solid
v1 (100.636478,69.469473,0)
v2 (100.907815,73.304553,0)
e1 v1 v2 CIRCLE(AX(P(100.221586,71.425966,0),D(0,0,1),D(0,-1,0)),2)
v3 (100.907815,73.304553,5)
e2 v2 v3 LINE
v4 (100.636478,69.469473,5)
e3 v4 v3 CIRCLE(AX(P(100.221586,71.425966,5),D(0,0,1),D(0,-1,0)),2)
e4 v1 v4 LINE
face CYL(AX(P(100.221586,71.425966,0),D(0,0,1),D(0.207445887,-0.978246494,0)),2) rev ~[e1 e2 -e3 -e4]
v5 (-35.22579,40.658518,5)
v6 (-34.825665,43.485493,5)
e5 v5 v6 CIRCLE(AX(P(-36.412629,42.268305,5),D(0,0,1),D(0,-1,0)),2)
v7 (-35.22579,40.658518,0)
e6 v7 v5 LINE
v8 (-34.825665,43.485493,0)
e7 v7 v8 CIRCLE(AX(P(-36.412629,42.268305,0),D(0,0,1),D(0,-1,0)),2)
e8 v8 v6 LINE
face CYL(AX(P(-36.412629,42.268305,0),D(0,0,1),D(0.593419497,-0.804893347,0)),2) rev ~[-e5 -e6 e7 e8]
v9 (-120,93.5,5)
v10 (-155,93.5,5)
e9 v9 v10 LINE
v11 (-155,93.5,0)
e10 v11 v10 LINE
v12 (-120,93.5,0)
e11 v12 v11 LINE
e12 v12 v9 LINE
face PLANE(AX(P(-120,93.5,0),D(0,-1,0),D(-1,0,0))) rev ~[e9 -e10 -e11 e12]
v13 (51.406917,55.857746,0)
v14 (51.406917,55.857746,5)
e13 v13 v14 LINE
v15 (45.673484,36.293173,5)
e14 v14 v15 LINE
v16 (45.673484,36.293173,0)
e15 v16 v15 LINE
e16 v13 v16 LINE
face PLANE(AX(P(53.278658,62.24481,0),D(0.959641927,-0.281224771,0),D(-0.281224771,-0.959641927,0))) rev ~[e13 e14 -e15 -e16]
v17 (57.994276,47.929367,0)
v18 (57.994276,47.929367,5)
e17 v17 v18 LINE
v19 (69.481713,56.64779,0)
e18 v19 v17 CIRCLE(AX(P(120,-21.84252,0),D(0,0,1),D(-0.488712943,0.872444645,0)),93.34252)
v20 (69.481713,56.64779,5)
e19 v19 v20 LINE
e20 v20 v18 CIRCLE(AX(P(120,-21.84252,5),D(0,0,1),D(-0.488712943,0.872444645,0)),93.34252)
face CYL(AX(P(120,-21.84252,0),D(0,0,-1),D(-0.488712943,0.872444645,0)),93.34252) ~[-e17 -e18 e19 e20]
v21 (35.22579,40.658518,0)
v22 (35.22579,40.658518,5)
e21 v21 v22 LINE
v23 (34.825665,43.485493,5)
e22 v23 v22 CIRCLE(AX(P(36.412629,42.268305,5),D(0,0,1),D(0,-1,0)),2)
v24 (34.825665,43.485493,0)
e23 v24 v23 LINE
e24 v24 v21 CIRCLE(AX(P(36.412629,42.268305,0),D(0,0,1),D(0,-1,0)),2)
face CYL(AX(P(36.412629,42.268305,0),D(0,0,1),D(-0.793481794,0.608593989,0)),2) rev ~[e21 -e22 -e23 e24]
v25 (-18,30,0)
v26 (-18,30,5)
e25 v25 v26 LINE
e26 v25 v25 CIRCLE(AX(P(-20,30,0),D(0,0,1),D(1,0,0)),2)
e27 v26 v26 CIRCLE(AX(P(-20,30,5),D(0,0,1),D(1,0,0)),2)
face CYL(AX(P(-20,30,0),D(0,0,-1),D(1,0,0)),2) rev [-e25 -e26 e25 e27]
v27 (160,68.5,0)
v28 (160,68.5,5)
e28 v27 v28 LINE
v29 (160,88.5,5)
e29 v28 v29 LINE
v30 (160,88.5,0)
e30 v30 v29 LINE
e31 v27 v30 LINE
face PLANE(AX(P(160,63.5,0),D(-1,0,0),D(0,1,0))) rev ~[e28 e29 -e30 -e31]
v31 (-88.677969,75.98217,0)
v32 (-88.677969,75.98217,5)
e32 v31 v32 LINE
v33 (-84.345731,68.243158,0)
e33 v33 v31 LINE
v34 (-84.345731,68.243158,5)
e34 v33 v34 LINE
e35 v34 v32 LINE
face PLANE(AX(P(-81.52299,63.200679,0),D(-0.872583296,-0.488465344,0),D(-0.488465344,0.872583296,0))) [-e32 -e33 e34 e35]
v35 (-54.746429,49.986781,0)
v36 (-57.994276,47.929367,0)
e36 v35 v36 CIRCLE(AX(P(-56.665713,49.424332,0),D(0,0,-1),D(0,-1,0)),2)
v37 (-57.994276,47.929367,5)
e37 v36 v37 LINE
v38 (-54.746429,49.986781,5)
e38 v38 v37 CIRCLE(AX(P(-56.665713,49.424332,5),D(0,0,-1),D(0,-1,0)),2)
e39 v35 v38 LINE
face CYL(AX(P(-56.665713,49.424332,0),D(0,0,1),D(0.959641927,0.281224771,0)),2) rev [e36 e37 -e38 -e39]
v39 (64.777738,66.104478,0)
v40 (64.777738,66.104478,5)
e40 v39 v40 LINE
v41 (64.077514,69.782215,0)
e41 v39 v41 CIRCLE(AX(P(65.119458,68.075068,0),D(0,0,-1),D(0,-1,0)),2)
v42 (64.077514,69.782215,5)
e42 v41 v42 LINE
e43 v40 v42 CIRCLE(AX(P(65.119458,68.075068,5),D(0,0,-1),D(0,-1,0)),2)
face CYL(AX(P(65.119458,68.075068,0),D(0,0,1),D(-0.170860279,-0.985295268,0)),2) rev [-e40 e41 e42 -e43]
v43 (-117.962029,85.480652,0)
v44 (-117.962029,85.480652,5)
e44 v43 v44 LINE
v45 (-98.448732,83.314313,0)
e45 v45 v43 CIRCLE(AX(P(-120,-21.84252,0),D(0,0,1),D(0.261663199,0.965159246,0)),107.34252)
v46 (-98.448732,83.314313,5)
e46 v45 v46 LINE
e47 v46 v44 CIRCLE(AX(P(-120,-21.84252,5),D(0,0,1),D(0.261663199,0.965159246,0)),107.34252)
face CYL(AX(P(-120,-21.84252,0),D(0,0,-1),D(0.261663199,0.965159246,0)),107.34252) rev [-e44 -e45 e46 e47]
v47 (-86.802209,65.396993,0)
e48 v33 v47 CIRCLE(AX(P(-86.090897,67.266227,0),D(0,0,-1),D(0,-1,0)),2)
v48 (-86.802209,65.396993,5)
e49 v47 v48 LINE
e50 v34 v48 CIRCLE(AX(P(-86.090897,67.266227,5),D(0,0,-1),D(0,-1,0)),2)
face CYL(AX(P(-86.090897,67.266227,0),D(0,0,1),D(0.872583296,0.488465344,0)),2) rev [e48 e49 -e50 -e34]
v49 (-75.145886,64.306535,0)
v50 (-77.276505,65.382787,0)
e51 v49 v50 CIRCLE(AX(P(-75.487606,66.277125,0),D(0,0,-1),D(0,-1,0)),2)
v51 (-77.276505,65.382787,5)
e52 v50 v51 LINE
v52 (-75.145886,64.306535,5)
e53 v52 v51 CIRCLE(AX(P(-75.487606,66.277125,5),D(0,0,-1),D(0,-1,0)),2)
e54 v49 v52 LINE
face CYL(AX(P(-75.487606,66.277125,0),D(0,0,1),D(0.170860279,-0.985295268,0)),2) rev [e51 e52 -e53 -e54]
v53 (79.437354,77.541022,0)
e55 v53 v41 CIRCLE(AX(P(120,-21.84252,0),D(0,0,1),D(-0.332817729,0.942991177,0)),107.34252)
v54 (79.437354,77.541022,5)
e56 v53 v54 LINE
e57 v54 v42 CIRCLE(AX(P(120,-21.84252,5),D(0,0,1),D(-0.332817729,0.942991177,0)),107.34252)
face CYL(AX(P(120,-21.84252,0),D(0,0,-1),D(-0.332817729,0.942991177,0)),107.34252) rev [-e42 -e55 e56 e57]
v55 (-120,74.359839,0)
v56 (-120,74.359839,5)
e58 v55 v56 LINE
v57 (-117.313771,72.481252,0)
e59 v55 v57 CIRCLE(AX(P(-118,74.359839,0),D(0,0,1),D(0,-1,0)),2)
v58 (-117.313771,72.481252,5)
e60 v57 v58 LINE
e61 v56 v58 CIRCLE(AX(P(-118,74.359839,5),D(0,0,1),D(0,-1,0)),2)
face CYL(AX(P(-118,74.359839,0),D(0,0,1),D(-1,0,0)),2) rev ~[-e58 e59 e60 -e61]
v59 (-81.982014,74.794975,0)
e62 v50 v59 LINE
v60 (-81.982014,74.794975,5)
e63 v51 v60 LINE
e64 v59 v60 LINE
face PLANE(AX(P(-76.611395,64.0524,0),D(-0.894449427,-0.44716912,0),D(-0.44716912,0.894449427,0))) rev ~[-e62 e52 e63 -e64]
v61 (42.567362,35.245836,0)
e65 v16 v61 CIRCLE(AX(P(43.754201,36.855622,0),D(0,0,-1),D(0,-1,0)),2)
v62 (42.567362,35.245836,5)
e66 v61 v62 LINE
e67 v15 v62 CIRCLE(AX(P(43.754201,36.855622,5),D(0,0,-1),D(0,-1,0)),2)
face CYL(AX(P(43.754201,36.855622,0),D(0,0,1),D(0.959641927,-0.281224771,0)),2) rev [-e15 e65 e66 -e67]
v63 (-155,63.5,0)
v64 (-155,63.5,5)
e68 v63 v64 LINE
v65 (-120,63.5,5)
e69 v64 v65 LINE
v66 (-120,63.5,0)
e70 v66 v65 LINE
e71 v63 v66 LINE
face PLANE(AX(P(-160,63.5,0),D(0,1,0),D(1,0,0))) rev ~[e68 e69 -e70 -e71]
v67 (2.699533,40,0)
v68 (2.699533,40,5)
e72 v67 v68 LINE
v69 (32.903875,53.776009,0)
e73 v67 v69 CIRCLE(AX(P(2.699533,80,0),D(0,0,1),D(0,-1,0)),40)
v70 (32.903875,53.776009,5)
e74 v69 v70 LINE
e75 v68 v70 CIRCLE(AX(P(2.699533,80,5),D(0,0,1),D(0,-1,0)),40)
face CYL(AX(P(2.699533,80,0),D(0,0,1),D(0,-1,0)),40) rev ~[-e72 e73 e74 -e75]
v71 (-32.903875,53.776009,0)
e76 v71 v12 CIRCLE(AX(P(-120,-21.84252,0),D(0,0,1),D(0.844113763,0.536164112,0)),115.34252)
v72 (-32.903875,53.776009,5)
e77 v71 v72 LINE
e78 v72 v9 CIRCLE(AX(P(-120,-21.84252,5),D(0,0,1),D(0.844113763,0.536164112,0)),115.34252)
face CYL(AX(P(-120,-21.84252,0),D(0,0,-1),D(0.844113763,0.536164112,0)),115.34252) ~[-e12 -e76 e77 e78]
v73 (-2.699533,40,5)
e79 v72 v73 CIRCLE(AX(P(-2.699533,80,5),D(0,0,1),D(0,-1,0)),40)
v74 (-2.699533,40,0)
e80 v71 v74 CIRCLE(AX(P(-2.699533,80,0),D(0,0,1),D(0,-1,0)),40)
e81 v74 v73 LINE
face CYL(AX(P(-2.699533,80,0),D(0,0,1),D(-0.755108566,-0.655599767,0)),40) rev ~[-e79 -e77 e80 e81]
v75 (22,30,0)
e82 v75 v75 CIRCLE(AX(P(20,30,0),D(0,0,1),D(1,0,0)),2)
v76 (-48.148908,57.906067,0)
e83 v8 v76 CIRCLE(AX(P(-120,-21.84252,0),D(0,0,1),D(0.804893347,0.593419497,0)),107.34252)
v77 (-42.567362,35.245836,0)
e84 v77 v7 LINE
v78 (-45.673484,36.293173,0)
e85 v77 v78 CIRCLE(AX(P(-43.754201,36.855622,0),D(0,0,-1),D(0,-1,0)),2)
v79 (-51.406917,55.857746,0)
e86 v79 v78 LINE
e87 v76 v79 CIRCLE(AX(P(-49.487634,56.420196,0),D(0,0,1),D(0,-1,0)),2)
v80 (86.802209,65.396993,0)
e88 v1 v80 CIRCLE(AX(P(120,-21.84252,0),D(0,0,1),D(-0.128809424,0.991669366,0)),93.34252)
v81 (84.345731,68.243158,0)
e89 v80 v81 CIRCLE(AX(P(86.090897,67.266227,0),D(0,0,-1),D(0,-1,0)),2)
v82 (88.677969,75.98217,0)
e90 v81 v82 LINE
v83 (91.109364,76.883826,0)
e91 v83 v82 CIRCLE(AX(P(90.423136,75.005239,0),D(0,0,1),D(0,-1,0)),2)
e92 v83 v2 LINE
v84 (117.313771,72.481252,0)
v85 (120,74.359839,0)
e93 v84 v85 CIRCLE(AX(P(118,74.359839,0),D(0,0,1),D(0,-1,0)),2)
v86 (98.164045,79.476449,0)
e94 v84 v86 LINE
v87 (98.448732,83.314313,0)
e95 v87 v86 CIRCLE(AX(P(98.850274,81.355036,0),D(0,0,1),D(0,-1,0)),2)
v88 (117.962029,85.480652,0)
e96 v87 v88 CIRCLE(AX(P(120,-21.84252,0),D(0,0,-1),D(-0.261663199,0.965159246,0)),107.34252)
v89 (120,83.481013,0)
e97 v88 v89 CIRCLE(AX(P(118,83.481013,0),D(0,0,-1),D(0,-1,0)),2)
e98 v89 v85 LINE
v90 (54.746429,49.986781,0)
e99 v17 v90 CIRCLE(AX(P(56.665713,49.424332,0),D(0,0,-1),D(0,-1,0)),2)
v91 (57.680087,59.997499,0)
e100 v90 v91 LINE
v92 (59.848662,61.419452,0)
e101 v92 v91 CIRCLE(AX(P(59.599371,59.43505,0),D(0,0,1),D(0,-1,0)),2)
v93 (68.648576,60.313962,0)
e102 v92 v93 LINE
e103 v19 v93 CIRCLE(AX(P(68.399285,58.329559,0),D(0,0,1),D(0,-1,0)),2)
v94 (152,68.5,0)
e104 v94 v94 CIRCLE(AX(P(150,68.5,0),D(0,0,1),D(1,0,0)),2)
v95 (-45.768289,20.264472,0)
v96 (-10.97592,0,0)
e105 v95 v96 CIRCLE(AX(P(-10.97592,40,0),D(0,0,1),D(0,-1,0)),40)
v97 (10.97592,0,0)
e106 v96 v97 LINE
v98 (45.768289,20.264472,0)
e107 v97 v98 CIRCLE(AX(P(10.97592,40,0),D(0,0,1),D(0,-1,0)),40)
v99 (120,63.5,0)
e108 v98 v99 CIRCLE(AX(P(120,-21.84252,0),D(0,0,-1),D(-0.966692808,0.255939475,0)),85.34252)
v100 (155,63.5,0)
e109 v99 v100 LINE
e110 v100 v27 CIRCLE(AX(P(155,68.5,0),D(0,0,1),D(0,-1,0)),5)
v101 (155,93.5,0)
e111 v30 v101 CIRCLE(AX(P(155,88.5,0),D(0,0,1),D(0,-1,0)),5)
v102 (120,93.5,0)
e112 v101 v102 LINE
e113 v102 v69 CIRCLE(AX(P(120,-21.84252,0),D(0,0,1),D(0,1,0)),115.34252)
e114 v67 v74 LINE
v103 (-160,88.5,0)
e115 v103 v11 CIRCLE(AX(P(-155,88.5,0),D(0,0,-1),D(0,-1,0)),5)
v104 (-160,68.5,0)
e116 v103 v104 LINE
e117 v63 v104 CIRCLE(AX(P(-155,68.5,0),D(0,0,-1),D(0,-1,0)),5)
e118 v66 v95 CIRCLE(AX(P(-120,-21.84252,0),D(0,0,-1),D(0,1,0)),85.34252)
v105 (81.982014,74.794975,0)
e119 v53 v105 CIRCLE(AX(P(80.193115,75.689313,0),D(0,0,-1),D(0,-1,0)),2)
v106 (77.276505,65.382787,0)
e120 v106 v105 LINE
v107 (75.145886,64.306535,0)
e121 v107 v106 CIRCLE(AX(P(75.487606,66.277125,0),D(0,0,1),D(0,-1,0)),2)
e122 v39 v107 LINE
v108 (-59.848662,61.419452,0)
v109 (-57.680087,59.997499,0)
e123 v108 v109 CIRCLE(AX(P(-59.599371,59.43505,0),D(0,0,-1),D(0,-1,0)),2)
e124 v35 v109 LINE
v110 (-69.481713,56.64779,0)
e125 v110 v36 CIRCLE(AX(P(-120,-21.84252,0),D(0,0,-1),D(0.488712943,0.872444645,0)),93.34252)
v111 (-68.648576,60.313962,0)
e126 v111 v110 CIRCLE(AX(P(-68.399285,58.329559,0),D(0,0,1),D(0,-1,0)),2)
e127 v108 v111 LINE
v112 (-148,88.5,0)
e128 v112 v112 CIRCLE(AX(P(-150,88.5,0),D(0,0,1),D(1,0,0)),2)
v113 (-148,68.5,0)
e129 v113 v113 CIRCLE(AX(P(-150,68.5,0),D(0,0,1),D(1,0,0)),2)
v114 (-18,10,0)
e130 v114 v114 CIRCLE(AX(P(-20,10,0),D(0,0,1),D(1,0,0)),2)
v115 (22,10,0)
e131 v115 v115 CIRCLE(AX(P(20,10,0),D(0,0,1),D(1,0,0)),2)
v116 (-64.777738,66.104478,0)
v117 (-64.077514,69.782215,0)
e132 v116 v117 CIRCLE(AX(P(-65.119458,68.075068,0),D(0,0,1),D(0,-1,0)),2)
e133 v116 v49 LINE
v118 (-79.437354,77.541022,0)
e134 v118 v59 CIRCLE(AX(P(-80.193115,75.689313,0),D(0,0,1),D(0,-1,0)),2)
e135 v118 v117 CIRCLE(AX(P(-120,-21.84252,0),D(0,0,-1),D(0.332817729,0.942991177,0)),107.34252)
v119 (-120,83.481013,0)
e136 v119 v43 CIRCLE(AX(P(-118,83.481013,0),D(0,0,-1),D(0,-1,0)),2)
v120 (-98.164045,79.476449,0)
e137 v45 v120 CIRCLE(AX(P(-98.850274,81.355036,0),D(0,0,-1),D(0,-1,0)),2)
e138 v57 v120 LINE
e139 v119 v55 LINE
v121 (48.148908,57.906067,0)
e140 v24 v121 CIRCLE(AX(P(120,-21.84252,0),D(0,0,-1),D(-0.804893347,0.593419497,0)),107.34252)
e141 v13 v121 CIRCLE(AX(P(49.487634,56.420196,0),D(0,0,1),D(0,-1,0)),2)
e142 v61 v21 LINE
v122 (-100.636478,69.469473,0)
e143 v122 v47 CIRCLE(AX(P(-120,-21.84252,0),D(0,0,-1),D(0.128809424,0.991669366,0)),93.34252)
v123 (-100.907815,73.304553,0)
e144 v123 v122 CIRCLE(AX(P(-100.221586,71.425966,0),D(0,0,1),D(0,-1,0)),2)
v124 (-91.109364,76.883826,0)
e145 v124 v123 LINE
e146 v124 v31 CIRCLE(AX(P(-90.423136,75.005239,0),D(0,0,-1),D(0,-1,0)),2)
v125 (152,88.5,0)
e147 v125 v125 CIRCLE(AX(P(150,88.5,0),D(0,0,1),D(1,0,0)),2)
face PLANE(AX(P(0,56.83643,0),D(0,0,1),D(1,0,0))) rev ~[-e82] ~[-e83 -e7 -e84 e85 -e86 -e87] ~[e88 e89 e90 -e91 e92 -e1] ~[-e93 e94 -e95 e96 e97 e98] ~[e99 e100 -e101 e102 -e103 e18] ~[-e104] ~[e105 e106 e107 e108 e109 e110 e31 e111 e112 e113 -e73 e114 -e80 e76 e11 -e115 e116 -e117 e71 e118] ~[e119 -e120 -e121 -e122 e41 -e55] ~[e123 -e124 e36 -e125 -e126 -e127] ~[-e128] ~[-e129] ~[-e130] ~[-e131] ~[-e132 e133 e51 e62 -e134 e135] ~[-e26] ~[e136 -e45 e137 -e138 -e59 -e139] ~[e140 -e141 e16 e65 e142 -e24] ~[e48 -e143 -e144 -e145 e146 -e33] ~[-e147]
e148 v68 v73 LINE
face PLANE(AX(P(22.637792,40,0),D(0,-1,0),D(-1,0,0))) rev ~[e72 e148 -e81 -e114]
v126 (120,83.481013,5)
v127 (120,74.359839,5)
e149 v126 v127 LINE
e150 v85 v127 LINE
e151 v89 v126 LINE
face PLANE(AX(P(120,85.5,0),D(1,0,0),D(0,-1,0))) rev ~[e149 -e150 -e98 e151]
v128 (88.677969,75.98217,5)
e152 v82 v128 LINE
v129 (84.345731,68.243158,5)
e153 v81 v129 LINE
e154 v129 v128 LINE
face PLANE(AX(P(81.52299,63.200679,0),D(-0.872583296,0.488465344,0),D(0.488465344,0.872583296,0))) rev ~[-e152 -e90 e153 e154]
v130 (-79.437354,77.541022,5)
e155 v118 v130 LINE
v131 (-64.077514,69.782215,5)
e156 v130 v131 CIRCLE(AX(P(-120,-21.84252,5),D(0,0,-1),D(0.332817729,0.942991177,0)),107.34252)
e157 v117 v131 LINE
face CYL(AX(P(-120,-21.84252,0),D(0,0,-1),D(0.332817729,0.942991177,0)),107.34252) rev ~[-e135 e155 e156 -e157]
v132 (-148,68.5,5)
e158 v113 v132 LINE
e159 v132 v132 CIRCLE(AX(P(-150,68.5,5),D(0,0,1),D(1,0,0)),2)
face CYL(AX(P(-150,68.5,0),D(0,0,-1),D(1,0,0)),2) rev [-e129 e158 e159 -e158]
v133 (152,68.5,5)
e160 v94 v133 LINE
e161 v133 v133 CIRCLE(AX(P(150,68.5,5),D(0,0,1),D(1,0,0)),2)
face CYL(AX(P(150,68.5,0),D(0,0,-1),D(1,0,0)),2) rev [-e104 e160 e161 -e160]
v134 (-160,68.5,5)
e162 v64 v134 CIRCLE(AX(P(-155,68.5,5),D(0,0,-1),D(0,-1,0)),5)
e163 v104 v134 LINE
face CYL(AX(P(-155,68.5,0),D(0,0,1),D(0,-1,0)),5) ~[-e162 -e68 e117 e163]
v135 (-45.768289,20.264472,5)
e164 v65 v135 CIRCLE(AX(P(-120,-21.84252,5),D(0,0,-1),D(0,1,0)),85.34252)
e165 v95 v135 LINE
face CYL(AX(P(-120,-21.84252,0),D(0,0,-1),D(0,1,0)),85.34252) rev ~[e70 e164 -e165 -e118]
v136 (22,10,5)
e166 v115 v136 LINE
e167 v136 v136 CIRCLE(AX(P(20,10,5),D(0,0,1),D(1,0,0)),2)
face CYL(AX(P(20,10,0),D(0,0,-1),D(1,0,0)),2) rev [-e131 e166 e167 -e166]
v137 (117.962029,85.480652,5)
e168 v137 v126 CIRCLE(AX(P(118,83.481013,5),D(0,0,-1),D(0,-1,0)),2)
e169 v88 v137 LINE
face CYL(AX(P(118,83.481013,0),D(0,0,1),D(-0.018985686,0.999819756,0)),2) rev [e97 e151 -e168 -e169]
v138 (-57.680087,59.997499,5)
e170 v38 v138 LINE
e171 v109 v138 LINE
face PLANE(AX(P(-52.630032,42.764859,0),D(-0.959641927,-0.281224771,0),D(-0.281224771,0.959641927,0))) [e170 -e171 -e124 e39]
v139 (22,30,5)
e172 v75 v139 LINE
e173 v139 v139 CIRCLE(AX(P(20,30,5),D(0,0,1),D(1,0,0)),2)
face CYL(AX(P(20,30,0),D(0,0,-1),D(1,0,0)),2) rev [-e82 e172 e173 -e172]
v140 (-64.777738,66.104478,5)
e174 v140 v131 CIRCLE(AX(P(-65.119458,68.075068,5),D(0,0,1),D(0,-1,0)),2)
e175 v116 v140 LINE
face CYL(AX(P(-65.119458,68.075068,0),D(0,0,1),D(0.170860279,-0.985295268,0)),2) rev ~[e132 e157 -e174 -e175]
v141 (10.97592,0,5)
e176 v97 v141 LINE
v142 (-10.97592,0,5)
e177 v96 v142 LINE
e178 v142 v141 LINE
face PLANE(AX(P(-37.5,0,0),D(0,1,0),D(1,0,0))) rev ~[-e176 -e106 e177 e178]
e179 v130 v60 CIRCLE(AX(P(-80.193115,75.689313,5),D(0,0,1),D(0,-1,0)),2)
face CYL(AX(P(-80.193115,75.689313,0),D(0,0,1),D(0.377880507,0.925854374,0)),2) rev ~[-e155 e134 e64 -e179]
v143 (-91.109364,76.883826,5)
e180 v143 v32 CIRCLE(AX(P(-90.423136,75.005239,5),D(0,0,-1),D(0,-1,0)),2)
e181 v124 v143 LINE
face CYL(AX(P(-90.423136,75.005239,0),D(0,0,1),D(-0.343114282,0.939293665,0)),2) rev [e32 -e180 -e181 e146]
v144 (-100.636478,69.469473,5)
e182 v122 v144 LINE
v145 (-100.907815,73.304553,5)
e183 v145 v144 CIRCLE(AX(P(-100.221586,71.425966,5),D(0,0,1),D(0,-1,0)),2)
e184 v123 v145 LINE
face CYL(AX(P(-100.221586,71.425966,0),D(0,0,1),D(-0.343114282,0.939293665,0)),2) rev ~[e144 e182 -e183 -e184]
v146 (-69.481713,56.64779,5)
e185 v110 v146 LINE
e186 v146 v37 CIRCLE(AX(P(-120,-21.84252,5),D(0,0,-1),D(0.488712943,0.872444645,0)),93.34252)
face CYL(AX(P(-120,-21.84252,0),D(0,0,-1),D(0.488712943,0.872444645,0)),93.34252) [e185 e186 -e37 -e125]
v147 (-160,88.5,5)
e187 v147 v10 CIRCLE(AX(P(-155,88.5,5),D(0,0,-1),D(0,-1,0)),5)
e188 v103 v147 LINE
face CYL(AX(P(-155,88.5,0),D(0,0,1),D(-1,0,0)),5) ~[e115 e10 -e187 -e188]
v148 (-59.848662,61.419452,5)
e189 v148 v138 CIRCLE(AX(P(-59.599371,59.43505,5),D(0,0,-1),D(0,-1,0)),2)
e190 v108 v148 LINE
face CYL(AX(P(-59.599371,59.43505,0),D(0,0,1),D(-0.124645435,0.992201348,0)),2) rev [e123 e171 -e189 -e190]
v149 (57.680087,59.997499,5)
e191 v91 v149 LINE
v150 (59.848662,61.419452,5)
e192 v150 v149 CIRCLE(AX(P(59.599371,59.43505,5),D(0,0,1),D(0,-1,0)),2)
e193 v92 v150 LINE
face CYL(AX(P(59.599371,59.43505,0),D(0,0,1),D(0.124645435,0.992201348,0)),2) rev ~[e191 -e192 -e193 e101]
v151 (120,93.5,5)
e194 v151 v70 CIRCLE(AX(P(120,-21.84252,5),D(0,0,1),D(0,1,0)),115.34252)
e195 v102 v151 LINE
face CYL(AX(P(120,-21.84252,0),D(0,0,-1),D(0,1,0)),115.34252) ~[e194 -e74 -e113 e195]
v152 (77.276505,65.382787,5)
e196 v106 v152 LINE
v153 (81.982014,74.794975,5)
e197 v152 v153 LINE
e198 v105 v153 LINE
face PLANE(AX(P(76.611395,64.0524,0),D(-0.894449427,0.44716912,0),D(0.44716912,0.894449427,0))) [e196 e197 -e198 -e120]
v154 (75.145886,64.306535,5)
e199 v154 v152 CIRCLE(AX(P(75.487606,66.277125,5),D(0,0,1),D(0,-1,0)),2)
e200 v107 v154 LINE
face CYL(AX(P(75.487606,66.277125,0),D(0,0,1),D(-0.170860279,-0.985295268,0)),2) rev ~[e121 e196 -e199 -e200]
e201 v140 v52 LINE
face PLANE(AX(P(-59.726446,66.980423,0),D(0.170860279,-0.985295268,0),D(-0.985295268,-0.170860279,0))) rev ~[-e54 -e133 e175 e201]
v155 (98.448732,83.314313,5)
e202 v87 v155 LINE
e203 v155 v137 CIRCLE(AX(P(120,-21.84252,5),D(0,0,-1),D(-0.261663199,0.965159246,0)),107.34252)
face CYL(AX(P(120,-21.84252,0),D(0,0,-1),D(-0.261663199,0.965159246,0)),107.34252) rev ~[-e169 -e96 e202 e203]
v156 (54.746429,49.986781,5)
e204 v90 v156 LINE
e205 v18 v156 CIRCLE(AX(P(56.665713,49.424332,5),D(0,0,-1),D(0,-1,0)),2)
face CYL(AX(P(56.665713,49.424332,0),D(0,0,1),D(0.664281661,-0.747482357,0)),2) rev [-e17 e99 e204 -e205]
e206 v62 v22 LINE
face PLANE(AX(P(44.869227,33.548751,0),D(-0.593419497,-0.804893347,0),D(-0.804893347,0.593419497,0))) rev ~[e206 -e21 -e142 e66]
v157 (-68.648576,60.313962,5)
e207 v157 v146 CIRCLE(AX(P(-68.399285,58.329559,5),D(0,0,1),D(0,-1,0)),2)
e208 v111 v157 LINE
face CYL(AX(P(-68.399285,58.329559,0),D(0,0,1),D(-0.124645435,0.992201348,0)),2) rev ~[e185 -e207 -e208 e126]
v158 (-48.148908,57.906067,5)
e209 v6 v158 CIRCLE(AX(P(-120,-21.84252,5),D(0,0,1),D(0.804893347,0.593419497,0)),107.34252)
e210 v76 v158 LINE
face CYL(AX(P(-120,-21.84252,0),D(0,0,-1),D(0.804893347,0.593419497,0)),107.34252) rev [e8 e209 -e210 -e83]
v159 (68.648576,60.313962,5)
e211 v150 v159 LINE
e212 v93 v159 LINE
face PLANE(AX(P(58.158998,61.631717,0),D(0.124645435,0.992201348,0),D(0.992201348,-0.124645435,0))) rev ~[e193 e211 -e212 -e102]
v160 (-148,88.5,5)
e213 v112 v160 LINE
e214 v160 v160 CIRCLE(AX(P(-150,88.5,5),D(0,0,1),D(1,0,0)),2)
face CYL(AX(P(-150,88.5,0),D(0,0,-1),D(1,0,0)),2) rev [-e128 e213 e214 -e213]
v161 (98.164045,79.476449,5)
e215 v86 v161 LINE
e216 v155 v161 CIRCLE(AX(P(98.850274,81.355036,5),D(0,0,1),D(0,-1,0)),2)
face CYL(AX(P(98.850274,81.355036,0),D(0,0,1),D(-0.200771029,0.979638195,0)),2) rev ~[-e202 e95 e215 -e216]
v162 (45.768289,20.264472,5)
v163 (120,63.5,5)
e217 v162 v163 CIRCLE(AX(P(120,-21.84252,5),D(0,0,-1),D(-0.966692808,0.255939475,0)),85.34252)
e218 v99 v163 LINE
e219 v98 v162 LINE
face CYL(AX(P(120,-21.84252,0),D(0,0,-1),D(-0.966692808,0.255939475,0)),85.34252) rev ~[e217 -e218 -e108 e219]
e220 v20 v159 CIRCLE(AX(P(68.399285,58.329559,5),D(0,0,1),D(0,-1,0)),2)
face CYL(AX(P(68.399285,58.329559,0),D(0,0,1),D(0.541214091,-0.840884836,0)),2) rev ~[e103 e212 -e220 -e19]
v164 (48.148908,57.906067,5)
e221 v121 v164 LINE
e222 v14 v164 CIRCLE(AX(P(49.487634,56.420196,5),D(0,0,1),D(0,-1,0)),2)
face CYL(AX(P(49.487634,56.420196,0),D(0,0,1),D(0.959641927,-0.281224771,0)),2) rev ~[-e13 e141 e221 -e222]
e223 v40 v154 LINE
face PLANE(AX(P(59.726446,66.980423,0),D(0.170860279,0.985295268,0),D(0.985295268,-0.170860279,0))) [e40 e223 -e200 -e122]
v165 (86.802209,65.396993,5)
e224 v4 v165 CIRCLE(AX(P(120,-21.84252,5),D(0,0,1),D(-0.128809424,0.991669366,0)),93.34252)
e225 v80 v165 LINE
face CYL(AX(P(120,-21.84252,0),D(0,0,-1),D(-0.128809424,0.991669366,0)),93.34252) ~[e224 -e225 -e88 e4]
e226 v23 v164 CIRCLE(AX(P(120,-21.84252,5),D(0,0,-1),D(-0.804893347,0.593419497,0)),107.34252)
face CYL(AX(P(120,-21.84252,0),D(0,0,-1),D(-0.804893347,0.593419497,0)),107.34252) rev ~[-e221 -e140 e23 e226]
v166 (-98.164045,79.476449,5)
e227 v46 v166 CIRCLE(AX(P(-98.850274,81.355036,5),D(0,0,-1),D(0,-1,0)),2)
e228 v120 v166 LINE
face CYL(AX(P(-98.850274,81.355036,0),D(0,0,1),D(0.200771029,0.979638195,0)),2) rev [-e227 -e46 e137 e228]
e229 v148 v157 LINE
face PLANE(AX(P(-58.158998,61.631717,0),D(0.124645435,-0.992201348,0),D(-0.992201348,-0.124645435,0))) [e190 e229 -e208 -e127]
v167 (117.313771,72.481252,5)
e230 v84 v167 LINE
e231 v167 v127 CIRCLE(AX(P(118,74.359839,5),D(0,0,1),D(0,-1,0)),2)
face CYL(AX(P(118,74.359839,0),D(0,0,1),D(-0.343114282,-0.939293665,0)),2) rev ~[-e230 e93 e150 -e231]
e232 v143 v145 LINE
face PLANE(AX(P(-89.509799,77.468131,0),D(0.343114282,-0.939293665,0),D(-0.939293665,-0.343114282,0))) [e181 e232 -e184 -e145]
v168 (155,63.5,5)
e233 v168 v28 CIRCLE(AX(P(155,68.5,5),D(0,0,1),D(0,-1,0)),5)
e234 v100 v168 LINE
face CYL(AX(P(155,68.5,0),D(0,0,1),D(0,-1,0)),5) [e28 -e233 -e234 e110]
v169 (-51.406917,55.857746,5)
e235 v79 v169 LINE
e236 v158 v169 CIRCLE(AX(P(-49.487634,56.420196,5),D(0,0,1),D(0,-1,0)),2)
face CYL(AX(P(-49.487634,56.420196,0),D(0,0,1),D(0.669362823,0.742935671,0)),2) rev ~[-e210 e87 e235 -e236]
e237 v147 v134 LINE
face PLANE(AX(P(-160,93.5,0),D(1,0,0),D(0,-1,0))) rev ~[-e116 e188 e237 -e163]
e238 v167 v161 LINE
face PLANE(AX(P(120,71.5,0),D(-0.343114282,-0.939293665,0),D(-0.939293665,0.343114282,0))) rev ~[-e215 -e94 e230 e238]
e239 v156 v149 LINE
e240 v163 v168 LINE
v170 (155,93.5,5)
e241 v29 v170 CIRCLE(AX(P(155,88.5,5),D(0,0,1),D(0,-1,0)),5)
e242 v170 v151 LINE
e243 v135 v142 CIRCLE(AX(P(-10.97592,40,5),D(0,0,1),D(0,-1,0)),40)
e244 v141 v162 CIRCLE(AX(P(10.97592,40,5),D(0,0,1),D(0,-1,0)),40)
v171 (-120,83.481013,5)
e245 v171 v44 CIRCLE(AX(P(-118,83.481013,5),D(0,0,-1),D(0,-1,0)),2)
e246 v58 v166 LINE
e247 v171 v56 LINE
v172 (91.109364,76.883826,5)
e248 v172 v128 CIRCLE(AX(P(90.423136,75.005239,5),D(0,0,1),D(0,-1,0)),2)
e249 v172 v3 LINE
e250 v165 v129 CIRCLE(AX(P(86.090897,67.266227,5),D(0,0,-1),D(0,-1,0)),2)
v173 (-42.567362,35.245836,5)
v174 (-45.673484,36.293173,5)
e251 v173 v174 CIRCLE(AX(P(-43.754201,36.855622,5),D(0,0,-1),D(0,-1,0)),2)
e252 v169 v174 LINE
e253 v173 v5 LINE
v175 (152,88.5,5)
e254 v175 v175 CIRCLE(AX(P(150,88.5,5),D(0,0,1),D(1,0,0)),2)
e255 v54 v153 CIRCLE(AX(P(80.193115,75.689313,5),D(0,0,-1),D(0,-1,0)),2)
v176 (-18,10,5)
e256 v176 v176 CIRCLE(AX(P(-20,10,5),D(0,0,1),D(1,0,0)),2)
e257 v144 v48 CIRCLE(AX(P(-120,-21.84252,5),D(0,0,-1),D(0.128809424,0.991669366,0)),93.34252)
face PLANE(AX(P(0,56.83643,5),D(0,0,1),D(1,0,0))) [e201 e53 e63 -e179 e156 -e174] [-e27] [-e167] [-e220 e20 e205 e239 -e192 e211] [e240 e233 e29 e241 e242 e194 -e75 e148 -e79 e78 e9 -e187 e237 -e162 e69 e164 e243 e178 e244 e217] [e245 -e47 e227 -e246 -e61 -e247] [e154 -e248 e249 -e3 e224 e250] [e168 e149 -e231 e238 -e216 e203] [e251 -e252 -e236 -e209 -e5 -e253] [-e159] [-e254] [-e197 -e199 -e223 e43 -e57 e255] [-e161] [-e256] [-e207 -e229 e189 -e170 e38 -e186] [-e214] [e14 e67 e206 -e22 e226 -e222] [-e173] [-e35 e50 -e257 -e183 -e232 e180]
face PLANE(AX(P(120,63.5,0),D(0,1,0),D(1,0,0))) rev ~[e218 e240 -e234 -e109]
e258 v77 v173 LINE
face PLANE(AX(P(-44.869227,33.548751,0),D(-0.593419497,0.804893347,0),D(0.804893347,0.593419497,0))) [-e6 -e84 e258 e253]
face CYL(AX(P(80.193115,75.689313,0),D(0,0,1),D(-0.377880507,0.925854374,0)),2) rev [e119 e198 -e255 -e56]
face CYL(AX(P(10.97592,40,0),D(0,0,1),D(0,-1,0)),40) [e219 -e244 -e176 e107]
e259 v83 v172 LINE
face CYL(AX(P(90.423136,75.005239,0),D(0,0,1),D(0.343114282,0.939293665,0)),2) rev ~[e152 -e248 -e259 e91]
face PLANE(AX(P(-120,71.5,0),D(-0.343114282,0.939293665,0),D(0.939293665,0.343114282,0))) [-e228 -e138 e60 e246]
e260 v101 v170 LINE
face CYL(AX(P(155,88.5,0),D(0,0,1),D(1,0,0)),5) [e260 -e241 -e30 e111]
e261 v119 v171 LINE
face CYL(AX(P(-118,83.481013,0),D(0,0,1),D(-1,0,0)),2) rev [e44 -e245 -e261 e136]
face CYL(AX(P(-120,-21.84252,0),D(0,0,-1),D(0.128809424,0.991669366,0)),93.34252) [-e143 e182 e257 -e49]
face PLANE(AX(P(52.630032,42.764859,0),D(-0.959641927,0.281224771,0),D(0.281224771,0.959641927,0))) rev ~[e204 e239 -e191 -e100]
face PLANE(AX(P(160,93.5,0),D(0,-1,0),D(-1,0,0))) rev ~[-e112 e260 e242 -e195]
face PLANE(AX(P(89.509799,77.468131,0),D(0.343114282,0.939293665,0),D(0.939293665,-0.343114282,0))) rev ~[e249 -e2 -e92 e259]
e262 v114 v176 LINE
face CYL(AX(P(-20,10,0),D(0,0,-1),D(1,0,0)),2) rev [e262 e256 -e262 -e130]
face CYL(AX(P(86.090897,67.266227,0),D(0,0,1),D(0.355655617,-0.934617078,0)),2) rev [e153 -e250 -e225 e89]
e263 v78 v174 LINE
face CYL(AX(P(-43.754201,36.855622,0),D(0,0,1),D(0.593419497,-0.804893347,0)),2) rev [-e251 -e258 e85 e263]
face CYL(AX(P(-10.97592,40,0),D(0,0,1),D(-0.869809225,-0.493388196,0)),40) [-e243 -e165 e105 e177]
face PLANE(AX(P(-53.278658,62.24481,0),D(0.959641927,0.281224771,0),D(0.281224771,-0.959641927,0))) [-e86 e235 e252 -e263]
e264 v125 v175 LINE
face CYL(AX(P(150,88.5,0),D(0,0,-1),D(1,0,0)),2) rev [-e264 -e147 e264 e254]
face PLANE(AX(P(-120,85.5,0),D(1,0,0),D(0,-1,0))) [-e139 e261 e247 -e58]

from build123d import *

# Parameters (mm, degrees)
ESQUISSE1_R        = 2
BOSS_EXTRU_1_DEPTH = 5
CONG_1_R           = 5
CONG_2_R           = 40
CONG_3_R           = 2


with BuildPart() as part:
    # Esquisse1 → Boss.-Extru.1 (new body)
    with BuildSketch(Plane.XY):
        with BuildLine():
            Line((-37.5, 0), (37.5, 0))
            ThreePointArc((37.5, 0), (67.945941561, 45.786768838), (120, 63.5))
            Line((120, 63.5), (160, 63.5))
            Line((160, 63.5), (160, 93.5))
            Line((160, 93.5), (120, 93.5))
            ThreePointArc((120, 93.5), (64.453511348, 79.243999919), (22.637791694, 40))
            Line((22.637791694, 40), (-22.637791694, 40))
            ThreePointArc((-22.637791694, 40), (-64.453511348, 79.243999919), (-120, 93.5))
            Line((-120, 93.5), (-160, 93.5))
            Line((-160, 93.5), (-160, 63.5))
            Line((-160, 63.5), (-120, 63.5))
            ThreePointArc((-120, 63.5), (-67.945941561, 45.786768838), (-37.5, 0))
        make_face()
        with Locations((20, 30)):
            Circle(ESQUISSE1_R, mode=Mode.SUBTRACT)
        with Locations((-20, 30)):
            Circle(ESQUISSE1_R, mode=Mode.SUBTRACT)
        with Locations((-20, 10)):
            Circle(ESQUISSE1_R, mode=Mode.SUBTRACT)
        with Locations((20, 10)):
            Circle(ESQUISSE1_R, mode=Mode.SUBTRACT)
        with Locations((150, 88.5)):
            Circle(ESQUISSE1_R, mode=Mode.SUBTRACT)
        with Locations((150, 68.5)):
            Circle(ESQUISSE1_R, mode=Mode.SUBTRACT)
        with Locations((-150, 88.5)):
            Circle(ESQUISSE1_R, mode=Mode.SUBTRACT)
        with Locations((-150, 68.5)):
            Circle(ESQUISSE1_R, mode=Mode.SUBTRACT)
        with BuildLine():
            Line((120, 85.5), (120, 71.5))
            Line((120, 71.5), (91.912412909, 81.760105686))
            ThreePointArc((91.912412909, 81.760105686), (105.832260607, 84.560918666), (120, 85.5))
        make_face(mode=Mode.SUBTRACT)
        with BuildLine():
            Line((44.869226881, 33.548751393), (33.600720018, 41.856624351))
            ThreePointArc((33.600720018, 41.856624351), (42.763993121, 52.702874362), (53.278657874, 62.244810141))
            Line((53.278657874, 62.244810141), (44.869226881, 33.548751393))
        make_face(mode=Mode.SUBTRACT)
        with BuildLine():
            Line((52.630031511, 42.764858585), (58.158997811, 61.631716745))
            Line((58.158997811, 61.631716745), (74.382302486, 59.593661799))
            ThreePointArc((74.382302486, 59.593661799), (62.882968201, 51.984783256), (52.630031511, 42.764858585))
        make_face(mode=Mode.SUBTRACT)
        with BuildLine():
            Line((59.726445752, 66.980423245), (76.611394643, 64.052400369))
            Line((76.611394643, 64.052400369), (84.274506387, 79.380529263))
            ThreePointArc((84.274506387, 79.380529263), (71.601705042, 73.969909454), (59.726445752, 66.980423245))
        make_face(mode=Mode.SUBTRACT)
        with BuildLine():
            Line((81.522990402, 63.200679417), (89.509798834, 77.468130963))
            Line((89.509798834, 77.468130963), (107.976603852, 70.722397677))
            ThreePointArc((107.976603852, 70.722397677), (94.471255289, 67.941160205), (81.522990402, 63.200679417))
        make_face(mode=Mode.SUBTRACT)
        with BuildLine():
            Line((-120, 85.5), (-120, 71.5))
            Line((-120, 71.5), (-91.912412909, 81.760105686))
            ThreePointArc((-91.912412909, 81.760105686), (-105.832260607, 84.560918666), (-120, 85.5))
        make_face(mode=Mode.SUBTRACT)
        with BuildLine():
            Line((-89.509798834, 77.468130963), (-107.976603852, 70.722397677))
            ThreePointArc((-107.976603852, 70.722397677), (-94.471255289, 67.941160205), (-81.522990402, 63.200679417))
            Line((-81.522990402, 63.200679417), (-89.509798834, 77.468130963))
        make_face(mode=Mode.SUBTRACT)
        with BuildLine():
            Line((-76.611394643, 64.052400369), (-84.274506387, 79.380529263))
            ThreePointArc((-84.274506387, 79.380529263), (-71.601705042, 73.969909454), (-59.726445752, 66.980423245))
            Line((-59.726445752, 66.980423245), (-76.611394643, 64.052400369))
        make_face(mode=Mode.SUBTRACT)
        with BuildLine():
            Line((-58.158997811, 61.631716745), (-74.382302486, 59.593661799))
            ThreePointArc((-74.382302486, 59.593661799), (-62.882968201, 51.984783256), (-52.630031511, 42.764858585))
            Line((-52.630031511, 42.764858585), (-58.158997811, 61.631716745))
        make_face(mode=Mode.SUBTRACT)
        with BuildLine():
            Line((-44.869226881, 33.548751393), (-33.600720018, 41.856624351))
            ThreePointArc((-33.600720018, 41.856624351), (-42.763993121, 52.702874362), (-53.278657874, 62.244810141))
            Line((-53.278657874, 62.244810141), (-44.869226881, 33.548751393))
        make_face(mode=Mode.SUBTRACT)
    extrude(amount=BOSS_EXTRU_1_DEPTH)

    # Congé1
    cong_1_edges = [part.edges().sort_by_distance(p)[0] for p in [
        (160, 93.5, 2.5),
        (160, 63.5, 2.5),
        (-160, 63.5, 2.5),
        (-160, 93.5, 2.5),
    ]]
    fillet(cong_1_edges, radius=CONG_1_R)

    # Congé2
    cong_2_edges = [part.edges().sort_by_distance(p)[0] for p in [
        (-22.637791694, 40, 2.5),
        (22.637791694, 40, 2.5),
        (37.5, 0, 2.5),
        (-37.5, 0, 2.5),
    ]]
    fillet(cong_2_edges, radius=CONG_2_R)

    # Congé3
    cong_3_edges = [part.edges().sort_by_distance(p)[0] for p in [
        (-58.158997811, 61.631716745, 2.5),
        (-74.382302486, 59.593661799, 2.5),
        (-52.630031511, 42.764858585, 2.5),
        (-76.611394643, 64.052400369, 2.5),
        (-59.726445752, 66.980423245, 2.5),
        (-84.274506387, 79.380529263, 2.5),
        (-120, 71.5, 2.5),
        (-91.912412909, 81.760105686, 2.5),
        (-120, 85.5, 2.5),
        (89.509798834, 77.468130963, 2.5),
        (81.522990402, 63.200679417, 2.5),
        (107.976603852, 70.722397677, 2.5),
        (44.869226881, 33.548751393, 2.5),
        (53.278657874, 62.244810141, 2.5),
        (33.600720018, 41.856624351, 2.5),
        (59.726445752, 66.980423245, 2.5),
        (76.611394643, 64.052400369, 2.5),
        (84.274506387, 79.380529263, 2.5),
        (91.912412909, 81.760105686, 2.5),
        (120, 71.5, 2.5),
        (120, 85.5, 2.5),
        (74.382302486, 59.593661799, 2.5),
        (58.158997811, 61.631716745, 2.5),
        (52.630031511, 42.764858585, 2.5),
        (-81.522990402, 63.200679417, 2.5),
        (-89.509798834, 77.468130963, 2.5),
        (-107.976603852, 70.722397677, 2.5),
        (-53.278657874, 62.244810141, 2.5),
        (-44.869226881, 33.548751393, 2.5),
        (-33.600720018, 41.856624351, 2.5),
    ]]
    fillet(cong_3_edges, radius=CONG_3_R)


solid = part.part
